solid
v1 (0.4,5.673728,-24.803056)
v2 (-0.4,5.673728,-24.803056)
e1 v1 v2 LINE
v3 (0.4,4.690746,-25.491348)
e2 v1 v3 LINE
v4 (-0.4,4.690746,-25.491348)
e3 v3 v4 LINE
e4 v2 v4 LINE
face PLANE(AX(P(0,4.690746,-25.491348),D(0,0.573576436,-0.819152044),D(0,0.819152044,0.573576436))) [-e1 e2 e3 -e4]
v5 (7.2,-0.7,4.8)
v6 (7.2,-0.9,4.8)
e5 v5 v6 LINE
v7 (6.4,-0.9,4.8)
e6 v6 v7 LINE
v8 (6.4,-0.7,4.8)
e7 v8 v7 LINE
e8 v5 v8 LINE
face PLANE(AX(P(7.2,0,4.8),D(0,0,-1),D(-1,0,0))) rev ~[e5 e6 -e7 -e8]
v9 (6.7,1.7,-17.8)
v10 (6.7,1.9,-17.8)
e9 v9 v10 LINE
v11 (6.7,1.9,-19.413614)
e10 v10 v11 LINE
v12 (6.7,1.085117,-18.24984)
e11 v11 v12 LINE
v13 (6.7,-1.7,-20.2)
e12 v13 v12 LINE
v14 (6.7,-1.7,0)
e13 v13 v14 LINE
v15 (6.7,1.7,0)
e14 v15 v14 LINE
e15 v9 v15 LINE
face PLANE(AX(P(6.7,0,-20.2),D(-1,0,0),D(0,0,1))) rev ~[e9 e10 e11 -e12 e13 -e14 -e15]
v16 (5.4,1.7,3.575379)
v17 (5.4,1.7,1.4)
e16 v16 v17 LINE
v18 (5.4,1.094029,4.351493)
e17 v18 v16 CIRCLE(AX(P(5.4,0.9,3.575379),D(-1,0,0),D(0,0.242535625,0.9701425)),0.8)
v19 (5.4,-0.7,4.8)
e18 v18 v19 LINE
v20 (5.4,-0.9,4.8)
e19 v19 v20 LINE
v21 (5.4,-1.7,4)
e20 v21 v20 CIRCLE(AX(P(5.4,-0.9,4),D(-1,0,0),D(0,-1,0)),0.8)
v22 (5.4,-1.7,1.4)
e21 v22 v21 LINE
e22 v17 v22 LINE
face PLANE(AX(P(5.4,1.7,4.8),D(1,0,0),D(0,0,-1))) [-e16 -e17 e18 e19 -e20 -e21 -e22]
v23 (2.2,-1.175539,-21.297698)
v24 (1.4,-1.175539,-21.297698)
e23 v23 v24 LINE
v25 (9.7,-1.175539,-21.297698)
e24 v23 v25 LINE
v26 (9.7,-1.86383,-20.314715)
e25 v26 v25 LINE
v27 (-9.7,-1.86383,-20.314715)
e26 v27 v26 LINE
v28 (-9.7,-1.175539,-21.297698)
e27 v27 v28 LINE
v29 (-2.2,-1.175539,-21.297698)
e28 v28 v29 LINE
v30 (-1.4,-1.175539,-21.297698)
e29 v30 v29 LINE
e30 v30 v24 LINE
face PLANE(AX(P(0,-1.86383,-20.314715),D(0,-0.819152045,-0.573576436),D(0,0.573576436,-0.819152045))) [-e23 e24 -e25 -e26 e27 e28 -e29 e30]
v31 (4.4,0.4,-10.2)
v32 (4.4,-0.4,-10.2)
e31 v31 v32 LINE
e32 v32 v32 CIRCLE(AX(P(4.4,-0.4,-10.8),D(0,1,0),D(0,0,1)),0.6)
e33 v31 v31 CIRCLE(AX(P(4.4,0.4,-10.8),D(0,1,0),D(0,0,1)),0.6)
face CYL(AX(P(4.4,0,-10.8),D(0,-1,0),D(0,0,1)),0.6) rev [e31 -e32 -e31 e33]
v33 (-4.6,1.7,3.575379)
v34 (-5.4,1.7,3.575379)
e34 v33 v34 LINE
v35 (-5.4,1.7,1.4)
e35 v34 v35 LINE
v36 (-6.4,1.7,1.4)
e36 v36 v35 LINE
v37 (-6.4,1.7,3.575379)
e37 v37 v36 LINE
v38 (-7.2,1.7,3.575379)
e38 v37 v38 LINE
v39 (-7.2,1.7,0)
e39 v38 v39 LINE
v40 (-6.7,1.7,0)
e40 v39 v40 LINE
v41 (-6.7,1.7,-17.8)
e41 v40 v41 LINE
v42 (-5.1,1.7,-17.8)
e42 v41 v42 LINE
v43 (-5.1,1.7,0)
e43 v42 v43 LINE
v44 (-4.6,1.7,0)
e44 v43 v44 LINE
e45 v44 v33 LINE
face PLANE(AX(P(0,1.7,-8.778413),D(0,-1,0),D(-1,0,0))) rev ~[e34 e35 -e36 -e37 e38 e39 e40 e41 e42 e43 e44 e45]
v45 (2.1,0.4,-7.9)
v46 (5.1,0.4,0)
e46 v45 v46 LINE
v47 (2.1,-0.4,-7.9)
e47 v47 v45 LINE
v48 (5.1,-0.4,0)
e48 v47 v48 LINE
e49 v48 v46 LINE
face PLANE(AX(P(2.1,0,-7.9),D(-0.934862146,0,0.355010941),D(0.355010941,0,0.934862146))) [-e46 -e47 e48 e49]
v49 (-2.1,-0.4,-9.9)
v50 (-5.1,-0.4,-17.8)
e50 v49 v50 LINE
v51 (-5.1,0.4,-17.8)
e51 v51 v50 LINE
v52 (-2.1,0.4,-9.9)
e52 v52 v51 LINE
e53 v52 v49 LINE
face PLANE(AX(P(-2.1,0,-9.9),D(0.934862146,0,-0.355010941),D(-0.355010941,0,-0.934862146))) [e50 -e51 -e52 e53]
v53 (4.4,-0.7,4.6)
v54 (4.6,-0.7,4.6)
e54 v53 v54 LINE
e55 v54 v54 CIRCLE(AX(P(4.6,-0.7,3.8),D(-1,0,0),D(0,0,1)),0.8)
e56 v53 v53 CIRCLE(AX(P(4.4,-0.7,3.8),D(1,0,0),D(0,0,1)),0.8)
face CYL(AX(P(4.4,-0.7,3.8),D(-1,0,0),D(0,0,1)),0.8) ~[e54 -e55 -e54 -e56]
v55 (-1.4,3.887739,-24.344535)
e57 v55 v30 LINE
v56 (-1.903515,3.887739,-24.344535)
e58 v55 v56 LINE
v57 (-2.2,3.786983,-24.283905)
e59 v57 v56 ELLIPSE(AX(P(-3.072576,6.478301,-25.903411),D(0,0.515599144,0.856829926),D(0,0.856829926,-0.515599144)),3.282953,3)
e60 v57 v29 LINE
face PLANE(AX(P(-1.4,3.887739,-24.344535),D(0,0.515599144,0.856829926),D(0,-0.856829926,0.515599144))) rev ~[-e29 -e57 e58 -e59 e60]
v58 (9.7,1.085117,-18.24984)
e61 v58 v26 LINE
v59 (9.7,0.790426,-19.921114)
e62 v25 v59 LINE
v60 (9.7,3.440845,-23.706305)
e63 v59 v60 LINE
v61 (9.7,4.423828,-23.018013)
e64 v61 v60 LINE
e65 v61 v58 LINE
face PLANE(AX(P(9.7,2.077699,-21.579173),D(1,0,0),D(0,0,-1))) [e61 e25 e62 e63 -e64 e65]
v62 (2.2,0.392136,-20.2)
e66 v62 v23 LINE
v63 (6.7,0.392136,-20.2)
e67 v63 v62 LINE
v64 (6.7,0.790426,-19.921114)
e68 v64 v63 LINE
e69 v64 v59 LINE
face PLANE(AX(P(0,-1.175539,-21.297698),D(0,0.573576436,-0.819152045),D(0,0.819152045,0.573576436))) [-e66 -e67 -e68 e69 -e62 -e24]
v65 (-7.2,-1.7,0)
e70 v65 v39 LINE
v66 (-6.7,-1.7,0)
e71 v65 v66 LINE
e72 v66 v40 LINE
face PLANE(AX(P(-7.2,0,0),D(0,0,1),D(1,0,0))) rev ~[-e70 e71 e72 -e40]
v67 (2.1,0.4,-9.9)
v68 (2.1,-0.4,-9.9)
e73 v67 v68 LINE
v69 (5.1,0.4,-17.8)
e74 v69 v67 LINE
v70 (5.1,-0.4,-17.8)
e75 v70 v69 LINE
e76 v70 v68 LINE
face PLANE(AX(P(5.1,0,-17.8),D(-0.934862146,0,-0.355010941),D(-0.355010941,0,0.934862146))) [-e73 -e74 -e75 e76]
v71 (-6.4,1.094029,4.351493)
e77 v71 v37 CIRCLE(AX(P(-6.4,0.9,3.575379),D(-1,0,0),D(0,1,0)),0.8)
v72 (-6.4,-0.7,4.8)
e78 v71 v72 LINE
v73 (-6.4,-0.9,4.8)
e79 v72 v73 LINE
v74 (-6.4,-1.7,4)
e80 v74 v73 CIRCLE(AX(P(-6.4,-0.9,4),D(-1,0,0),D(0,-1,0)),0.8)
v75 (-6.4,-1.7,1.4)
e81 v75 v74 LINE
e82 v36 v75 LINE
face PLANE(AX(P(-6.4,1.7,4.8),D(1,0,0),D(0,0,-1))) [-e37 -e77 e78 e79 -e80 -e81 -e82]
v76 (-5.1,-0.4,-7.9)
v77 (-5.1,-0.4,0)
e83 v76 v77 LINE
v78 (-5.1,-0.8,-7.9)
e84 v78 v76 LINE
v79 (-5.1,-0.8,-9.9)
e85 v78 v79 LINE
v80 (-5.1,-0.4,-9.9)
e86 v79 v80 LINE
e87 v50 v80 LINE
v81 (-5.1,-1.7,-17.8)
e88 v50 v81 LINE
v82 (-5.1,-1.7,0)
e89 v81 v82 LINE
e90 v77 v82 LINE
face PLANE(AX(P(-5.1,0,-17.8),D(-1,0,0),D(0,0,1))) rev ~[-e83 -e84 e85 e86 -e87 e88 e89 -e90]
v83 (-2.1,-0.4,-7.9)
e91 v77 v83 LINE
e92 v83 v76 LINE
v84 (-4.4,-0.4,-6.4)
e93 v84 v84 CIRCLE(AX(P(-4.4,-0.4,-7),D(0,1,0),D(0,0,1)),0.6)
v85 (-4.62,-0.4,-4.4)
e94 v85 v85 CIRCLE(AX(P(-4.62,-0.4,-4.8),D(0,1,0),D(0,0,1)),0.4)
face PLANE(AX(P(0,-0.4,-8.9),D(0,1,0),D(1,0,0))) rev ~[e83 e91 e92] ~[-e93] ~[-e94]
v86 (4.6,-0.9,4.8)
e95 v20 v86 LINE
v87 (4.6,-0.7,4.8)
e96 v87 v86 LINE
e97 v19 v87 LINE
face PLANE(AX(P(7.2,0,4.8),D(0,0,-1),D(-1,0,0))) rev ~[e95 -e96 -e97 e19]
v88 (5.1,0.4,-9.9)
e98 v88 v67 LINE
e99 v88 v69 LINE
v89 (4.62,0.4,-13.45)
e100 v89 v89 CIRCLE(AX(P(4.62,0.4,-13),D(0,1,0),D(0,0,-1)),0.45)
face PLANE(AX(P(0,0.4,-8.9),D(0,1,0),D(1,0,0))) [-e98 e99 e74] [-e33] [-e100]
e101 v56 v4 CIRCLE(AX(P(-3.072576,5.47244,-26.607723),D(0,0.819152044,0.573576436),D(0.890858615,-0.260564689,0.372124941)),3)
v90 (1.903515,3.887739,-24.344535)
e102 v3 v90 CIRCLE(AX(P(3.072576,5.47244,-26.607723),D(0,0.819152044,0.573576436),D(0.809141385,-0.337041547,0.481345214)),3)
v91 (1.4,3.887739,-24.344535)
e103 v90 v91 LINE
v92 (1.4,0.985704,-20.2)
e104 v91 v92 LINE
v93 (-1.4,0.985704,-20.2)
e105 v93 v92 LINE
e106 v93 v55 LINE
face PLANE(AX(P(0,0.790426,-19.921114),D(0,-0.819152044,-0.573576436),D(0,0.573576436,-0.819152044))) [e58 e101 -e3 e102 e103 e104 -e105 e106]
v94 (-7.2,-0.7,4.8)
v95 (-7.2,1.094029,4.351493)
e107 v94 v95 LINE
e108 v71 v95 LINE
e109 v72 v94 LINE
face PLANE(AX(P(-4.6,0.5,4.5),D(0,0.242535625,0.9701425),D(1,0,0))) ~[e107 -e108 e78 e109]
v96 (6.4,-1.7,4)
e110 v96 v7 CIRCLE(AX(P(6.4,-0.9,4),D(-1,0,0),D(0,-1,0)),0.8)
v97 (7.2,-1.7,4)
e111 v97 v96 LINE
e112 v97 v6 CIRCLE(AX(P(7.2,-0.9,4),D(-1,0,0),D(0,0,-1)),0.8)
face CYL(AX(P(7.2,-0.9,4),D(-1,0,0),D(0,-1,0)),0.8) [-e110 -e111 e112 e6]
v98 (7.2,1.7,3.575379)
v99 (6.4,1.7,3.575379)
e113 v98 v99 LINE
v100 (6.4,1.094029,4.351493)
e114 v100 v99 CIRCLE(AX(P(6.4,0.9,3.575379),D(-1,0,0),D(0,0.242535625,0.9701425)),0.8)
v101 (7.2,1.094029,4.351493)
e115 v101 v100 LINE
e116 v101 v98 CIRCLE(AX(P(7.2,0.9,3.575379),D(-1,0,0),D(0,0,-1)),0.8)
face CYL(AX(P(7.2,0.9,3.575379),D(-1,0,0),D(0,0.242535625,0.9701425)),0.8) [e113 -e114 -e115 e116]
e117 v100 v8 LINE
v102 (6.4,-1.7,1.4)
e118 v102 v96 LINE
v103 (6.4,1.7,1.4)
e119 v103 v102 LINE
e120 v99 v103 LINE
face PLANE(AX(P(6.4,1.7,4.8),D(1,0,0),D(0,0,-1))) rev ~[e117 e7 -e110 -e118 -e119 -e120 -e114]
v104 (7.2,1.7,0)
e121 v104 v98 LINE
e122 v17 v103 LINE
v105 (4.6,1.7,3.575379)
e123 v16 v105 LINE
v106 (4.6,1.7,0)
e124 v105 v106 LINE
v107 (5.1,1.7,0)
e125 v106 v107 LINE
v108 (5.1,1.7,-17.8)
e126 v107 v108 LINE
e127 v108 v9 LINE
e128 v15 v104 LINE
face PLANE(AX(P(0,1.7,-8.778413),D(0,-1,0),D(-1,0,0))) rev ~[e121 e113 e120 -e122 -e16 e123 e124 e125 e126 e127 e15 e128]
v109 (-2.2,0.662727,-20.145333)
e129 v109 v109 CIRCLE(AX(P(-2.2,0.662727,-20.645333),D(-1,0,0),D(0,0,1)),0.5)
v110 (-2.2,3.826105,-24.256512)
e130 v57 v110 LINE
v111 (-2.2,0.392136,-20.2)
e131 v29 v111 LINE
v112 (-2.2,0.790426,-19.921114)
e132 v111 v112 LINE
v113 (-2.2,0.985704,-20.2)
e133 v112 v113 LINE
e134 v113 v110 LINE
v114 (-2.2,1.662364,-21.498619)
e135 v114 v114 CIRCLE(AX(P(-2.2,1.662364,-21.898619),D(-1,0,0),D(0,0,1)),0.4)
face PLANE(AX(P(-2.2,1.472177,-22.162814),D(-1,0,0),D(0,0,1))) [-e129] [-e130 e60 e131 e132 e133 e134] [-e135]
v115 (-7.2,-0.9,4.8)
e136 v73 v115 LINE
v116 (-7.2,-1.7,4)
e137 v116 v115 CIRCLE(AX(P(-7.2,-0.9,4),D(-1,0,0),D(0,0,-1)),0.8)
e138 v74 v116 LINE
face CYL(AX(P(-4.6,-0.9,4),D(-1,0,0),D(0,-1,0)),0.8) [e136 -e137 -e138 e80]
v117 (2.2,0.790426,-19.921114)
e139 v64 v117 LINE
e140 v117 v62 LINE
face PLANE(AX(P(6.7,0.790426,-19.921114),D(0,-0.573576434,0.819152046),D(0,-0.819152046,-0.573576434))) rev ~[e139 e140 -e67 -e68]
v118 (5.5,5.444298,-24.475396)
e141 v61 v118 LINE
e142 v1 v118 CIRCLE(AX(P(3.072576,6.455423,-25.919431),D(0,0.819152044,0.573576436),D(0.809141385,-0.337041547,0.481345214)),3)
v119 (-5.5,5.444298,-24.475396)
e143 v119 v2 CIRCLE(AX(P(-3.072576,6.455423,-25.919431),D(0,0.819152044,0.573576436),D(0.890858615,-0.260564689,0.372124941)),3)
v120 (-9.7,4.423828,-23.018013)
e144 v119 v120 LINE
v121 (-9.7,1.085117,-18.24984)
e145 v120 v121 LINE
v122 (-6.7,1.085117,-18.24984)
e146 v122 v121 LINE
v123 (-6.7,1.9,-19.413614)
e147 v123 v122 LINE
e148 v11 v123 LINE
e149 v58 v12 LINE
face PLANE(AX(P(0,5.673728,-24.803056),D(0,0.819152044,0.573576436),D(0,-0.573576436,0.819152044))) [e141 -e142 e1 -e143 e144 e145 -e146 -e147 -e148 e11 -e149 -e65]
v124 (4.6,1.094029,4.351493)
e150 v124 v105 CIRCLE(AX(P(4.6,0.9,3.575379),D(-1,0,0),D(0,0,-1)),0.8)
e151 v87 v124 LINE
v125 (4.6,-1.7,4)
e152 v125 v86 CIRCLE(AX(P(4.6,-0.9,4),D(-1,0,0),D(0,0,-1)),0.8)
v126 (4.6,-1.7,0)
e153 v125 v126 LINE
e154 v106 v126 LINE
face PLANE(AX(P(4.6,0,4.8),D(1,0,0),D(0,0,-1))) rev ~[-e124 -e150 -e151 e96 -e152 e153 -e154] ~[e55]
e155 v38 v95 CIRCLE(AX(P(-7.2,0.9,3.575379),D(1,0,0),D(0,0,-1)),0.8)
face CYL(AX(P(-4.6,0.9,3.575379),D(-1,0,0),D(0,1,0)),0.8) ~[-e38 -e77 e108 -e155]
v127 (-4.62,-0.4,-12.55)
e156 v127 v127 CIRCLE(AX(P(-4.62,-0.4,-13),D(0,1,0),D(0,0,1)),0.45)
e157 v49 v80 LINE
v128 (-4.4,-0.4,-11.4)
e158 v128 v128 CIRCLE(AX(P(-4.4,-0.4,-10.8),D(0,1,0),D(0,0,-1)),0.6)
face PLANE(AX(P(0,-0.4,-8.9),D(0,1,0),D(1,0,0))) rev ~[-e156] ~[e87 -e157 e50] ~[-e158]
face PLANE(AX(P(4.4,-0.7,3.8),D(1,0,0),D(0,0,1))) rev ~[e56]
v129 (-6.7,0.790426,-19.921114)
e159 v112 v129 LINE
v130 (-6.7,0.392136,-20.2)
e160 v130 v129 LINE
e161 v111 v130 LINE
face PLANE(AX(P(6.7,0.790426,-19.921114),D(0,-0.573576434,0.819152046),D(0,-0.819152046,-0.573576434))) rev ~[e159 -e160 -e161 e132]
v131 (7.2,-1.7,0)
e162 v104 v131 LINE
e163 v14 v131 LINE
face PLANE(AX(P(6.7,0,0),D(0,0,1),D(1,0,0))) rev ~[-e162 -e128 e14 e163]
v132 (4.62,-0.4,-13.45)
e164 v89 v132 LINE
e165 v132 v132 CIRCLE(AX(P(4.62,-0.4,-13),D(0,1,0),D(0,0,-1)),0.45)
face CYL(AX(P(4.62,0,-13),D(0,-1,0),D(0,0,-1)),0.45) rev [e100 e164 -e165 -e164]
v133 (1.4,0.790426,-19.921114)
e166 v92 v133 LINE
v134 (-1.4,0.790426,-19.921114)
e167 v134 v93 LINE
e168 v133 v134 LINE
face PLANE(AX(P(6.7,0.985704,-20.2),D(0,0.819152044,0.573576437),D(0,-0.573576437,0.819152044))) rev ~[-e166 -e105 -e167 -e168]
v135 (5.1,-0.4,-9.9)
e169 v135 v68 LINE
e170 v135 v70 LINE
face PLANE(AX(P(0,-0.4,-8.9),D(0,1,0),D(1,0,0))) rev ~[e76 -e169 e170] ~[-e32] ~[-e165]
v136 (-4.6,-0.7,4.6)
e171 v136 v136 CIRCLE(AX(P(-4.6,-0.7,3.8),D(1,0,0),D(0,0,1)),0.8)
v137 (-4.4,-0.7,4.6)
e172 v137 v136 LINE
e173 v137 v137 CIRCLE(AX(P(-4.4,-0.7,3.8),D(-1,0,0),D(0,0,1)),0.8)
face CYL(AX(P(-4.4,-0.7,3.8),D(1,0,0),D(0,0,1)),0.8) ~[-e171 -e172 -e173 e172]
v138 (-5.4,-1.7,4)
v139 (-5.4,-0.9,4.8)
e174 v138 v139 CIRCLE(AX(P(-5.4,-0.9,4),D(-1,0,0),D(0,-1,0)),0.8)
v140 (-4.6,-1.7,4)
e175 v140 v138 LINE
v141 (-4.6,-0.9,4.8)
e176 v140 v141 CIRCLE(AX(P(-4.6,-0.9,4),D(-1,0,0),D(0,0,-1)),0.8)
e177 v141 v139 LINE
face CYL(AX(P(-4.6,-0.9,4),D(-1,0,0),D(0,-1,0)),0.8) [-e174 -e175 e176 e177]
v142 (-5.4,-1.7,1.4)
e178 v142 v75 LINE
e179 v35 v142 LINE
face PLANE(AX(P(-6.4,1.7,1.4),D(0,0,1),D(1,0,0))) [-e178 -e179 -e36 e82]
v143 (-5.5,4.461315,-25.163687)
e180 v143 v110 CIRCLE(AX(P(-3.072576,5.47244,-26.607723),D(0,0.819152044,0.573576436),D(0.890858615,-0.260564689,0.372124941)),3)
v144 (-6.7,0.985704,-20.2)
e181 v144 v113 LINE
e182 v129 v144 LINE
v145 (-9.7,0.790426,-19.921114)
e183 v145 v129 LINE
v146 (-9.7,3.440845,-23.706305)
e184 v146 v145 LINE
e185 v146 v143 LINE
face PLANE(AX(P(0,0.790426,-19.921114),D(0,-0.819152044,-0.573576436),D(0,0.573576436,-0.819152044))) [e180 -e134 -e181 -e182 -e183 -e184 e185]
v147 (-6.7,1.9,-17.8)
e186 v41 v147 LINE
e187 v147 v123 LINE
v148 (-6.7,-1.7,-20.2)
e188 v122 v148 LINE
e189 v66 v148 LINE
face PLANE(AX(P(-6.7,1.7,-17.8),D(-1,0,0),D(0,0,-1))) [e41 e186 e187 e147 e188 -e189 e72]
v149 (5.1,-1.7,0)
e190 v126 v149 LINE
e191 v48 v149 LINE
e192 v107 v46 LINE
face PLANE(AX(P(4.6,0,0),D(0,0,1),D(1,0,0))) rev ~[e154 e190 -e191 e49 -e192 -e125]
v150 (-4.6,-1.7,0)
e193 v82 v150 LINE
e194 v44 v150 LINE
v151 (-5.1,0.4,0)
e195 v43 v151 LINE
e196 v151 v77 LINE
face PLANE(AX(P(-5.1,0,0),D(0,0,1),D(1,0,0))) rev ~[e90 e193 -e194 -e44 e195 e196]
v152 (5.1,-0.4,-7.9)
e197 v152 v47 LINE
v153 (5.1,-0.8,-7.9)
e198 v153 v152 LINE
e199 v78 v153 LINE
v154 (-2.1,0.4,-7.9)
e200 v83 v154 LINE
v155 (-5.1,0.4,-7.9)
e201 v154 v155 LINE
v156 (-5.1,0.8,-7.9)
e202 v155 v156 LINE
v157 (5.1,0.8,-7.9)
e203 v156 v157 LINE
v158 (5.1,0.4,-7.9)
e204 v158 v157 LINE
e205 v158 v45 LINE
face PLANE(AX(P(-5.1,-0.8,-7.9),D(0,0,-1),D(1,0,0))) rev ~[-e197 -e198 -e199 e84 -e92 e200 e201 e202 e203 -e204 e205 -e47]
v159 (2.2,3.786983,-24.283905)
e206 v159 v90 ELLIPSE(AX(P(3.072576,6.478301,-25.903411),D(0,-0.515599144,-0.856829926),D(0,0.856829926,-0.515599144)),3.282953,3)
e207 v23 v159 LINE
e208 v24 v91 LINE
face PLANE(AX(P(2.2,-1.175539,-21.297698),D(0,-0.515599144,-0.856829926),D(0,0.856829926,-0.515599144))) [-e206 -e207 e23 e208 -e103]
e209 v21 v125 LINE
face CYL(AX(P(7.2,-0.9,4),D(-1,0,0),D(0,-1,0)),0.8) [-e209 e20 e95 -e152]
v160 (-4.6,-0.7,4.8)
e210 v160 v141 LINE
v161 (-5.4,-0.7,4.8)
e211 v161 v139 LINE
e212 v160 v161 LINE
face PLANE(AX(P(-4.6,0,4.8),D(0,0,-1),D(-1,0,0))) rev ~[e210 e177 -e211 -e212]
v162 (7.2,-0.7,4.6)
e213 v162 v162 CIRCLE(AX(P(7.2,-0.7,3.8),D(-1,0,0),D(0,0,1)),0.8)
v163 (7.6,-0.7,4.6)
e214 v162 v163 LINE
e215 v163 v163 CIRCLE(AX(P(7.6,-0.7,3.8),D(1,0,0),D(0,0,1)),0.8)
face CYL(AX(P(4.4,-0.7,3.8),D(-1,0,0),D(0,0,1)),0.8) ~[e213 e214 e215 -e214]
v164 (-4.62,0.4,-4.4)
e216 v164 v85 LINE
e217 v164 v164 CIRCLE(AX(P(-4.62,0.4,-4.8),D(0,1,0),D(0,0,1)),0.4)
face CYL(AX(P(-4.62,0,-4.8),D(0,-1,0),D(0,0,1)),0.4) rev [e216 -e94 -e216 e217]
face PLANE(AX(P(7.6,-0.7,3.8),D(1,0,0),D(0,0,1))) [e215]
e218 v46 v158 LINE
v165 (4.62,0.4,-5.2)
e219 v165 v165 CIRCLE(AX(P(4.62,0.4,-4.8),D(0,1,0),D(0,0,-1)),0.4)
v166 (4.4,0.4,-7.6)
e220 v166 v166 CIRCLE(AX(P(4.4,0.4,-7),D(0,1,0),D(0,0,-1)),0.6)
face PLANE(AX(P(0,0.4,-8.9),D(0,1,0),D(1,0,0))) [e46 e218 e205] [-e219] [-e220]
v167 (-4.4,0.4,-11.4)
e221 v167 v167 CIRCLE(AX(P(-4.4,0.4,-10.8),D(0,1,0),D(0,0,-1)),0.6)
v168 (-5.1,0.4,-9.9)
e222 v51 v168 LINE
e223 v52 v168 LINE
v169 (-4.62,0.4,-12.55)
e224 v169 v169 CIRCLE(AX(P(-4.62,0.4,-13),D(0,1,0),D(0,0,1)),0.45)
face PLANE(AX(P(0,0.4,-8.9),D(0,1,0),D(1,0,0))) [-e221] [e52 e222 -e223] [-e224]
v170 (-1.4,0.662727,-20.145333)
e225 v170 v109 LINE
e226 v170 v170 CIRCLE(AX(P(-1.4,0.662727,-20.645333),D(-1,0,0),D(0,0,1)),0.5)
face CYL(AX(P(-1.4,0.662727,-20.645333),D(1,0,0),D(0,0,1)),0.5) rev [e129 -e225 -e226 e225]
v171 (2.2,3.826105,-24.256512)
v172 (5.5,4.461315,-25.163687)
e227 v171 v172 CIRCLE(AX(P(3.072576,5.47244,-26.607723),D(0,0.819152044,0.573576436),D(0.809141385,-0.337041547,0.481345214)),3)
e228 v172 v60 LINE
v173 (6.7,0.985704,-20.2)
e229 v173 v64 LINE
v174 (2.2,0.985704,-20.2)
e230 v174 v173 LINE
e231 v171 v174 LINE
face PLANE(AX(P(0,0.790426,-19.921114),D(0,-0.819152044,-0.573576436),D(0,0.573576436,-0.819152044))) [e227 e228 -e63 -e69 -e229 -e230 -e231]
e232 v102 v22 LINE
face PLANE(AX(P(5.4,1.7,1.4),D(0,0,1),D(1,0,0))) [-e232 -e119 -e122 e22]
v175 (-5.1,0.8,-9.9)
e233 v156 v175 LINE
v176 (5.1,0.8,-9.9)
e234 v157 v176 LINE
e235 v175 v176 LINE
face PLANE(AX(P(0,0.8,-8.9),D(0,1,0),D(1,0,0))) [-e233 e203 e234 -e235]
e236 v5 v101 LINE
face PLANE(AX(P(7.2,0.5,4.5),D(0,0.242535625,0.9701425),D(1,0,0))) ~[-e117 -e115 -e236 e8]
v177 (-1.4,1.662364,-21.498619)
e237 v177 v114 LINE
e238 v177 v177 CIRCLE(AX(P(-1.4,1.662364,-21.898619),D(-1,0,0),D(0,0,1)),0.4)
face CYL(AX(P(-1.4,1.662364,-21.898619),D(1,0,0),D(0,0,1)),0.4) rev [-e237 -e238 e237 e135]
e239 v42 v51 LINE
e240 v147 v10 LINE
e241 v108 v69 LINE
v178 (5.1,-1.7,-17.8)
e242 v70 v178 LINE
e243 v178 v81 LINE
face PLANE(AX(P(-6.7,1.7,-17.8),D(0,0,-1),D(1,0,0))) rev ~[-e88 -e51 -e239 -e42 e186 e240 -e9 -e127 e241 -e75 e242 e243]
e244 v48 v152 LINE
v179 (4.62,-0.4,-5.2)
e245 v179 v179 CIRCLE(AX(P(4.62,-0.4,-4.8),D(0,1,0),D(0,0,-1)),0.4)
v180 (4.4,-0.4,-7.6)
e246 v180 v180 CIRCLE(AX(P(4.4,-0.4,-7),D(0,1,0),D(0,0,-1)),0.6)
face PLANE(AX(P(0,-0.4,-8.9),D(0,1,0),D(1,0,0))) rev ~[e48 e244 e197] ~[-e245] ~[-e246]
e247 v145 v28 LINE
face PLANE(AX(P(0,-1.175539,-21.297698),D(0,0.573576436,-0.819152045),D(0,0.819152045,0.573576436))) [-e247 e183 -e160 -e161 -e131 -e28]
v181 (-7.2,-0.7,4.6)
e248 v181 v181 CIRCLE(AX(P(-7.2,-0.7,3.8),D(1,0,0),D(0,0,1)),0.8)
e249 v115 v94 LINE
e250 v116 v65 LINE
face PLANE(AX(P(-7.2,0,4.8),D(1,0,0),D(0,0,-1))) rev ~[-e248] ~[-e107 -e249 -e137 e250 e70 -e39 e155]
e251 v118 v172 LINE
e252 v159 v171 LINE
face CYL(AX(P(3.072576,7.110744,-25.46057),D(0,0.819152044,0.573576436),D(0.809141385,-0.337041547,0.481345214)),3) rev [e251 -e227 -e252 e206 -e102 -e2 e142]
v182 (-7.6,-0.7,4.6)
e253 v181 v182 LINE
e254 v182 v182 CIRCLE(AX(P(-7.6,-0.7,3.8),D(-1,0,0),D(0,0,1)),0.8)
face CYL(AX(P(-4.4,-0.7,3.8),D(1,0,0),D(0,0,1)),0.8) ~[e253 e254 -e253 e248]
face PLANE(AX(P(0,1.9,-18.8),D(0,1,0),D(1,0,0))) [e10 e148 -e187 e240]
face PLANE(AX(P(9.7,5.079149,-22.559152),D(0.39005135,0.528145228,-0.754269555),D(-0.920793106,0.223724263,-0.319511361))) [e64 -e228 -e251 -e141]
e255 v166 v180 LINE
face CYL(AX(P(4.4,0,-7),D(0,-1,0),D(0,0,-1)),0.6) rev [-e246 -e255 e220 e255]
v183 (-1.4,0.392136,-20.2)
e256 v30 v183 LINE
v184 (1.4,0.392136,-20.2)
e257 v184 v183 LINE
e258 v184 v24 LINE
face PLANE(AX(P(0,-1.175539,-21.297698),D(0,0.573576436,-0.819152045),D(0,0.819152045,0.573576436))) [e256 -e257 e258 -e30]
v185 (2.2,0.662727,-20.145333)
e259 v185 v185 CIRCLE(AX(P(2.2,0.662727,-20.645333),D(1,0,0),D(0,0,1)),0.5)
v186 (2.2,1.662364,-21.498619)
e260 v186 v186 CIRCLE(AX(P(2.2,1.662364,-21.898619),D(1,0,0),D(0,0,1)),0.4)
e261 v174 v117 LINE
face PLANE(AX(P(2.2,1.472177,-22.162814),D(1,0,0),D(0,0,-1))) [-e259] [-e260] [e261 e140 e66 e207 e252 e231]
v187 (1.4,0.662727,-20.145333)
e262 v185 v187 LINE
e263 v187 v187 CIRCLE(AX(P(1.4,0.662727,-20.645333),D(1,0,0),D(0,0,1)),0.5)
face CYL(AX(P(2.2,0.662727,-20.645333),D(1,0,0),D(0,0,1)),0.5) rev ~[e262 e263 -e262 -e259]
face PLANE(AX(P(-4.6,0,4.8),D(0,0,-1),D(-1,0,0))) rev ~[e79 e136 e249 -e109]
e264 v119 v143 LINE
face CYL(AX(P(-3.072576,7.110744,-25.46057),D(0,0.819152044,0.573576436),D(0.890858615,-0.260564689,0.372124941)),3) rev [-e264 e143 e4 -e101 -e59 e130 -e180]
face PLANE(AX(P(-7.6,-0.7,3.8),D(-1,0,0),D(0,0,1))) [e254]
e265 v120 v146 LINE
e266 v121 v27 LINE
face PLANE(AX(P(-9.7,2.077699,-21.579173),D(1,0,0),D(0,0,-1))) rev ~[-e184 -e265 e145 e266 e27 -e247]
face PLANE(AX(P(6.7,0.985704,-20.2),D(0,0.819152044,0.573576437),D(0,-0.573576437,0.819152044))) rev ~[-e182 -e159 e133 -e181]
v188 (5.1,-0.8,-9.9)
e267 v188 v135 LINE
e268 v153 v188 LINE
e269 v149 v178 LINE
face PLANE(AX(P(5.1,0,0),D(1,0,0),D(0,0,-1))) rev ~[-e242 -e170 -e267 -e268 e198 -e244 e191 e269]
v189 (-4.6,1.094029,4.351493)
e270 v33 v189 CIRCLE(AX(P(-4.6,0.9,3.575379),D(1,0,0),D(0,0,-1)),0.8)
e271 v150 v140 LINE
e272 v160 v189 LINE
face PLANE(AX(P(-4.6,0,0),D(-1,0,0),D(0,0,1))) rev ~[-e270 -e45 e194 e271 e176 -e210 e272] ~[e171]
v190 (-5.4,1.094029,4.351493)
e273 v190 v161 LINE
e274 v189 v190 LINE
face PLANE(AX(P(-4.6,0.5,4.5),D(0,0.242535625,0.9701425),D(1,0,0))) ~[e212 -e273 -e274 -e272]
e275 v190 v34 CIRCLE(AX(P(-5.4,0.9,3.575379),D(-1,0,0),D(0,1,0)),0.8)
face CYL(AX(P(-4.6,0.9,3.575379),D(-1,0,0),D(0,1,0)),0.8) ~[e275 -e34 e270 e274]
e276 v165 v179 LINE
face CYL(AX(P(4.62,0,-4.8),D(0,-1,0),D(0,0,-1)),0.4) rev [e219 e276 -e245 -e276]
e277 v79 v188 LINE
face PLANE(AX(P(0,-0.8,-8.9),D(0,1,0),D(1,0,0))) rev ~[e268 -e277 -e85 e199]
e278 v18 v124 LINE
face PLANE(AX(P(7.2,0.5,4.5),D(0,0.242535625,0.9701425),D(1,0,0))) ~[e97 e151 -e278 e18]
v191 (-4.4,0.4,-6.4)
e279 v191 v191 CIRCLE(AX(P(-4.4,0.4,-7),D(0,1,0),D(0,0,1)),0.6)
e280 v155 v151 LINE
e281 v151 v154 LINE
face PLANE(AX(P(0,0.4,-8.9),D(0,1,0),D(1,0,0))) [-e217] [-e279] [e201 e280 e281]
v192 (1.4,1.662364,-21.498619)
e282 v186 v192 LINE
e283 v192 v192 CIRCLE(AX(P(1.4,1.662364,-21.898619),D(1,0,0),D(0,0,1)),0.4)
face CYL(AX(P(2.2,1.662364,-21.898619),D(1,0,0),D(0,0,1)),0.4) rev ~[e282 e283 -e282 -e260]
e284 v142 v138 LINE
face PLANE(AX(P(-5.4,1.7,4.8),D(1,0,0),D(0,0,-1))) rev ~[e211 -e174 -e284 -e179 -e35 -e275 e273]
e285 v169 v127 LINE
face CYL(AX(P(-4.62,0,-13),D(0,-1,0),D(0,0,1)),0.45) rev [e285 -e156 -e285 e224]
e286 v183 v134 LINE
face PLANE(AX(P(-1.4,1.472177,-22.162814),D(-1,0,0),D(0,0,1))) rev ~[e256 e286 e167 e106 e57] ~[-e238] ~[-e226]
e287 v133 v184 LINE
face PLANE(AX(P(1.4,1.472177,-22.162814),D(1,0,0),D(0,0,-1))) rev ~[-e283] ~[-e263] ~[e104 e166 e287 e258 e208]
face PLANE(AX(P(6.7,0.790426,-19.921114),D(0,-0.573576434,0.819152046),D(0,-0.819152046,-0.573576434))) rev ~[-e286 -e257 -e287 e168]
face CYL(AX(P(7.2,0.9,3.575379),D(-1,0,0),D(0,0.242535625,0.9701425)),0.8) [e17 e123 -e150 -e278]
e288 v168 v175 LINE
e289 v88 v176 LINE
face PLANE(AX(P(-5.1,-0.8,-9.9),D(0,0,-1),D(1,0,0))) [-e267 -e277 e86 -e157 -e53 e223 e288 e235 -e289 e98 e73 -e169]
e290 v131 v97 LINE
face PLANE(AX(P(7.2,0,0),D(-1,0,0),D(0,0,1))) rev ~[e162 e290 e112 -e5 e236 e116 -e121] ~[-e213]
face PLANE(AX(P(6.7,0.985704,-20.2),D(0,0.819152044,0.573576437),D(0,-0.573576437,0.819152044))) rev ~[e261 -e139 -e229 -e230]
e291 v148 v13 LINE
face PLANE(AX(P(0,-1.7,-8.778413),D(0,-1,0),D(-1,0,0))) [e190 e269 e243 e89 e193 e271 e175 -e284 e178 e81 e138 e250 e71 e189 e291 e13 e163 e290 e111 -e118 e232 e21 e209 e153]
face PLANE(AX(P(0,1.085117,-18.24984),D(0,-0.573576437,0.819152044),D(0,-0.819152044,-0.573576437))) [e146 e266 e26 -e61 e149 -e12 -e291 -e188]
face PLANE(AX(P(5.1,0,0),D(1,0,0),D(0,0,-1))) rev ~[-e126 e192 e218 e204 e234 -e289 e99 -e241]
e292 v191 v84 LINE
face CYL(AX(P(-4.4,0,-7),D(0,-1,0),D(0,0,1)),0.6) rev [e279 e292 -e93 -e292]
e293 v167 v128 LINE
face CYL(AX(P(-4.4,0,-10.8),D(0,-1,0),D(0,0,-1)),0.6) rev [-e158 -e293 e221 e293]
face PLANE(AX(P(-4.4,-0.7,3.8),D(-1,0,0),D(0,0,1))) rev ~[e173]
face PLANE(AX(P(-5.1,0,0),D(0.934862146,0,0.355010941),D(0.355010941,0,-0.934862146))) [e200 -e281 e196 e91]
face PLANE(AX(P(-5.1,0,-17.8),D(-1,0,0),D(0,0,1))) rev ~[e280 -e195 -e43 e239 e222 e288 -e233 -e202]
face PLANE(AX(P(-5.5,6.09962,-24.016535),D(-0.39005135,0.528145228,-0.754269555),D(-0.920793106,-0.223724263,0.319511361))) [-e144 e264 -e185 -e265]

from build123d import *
from OCP.BRepFilletAPI import BRepFilletAPI_MakeChamfer

# Parameters (mm, degrees)
BOSS_EXTRUDE1_DEPTH      = 0.85
SKETCH3_R                = 0.3
SKETCH3_R_2              = 0.2
SKETCH3_R_3              = 0.225
BOSS_EXTRUDE2_DEPTH      = 0.2
FILLET1_R                = 0.4
CHAMFER1_SIZE            = 1.2
CHAMFER1_SIZE2           = 0.3
FILLET2_R                = 0.4
BOSS_EXTRUDE4_DEPTH      = 0.2
BOSS_EXTRUDE4_DEPTH_BACK = 1.4
SKETCH7_R                = 0.4
BOSS_EXTRUDE5_DEPTH      = 0.2
BOSS_EXTRUDE5_DEPTH_BACK = 1.4
SKETCH8_R                = 0.4
SKETCH6_W                = 0.5
SKETCH6_H                = 1.7
CUT_EXTRUDE1_DEPTH       = 11.924284874
BOSS_EXTRUDE8_DEPTH      = 0.2
BOSS_EXTRUDE8_DEPTH_BACK = 0.6
SKETCH11_W               = 5.1
SKETCH11_H               = 1
BOSS_EXTRUDE9_DEPTH      = 4.85
CUT_EXTRUDE2_DEPTH       = 9.7
BOSS_EXTRUDE11_START     = 0.7
SKETCH16_R               = 0.25
SKETCH16_R_2             = 0.2
BOSS_EXTRUDE11_DEPTH     = 0.4
BOSS_EXTRUDE12_START     = 1.1
SKETCH17_R               = 0.2
SKETCH17_R_2             = 0.25
BOSS_EXTRUDE12_DEPTH     = 0.4
CUT_EXTRUDE3_DEPTH       = 0.4
CUT_EXTRUDE3_DEPTH_BACK  = 1
SKETCH18_W               = 6.7
SKETCH18_H               = 1
BOSS_EXTRUDE13_DEPTH     = 0.1
SCALE1_SCALE             = 2


with BuildPart() as part:
    # Sketch1 → Boss-Extrude1 (new, symmetric)
    with BuildSketch(Plane(origin=(0, 0, 0), x_dir=(1, 0, 0), z_dir=(0, 1, 0))):
        Polygon((-3.35, 0), (-3.35, 10.1), (3.35, 10.1), (3.35, 0), (3.6, 0), (3.6, -2.4), (2.3, -2.4), (2.3, 0), (2.55, 0), (2.55, 8.9), (-2.55, 8.9), (-2.55, 0), (-2.3, 0), (-2.3, -2.4), (-3.6, -2.4), (-3.6, 0), align=None)
    extrude(amount=BOSS_EXTRUDE1_DEPTH, both=True)

    # Sketch3 → Boss-Extrude2 (add, symmetric)
    with BuildSketch(Plane(origin=(0, 0, 0), x_dir=(1, 0, 0), z_dir=(0, 1, 0))):
        Polygon((-2.55, 3.95), (-2.55, 0), (-1.05, 3.95), (1.05, 3.95), (2.55, 0), (2.55, 3.95), (2.55, 4.95), (2.55, 8.9), (1.05, 4.95), (-1.05, 4.95), (-2.55, 8.9), (-2.55, 4.95), align=None)
        with Locations((-2.2, 3.5)):
            Circle(SKETCH3_R, mode=Mode.SUBTRACT)
        with Locations((2.2, 3.5)):
            Circle(SKETCH3_R, mode=Mode.SUBTRACT)
        with Locations((-2.31, 2.4)):
            Circle(SKETCH3_R_2, mode=Mode.SUBTRACT)
        with Locations((-2.31, 6.5)):
            Circle(SKETCH3_R_3, mode=Mode.SUBTRACT)
        with Locations((2.2, 5.4)):
            Circle(SKETCH3_R, mode=Mode.SUBTRACT)
        with Locations((-2.2, 5.4)):
            Circle(SKETCH3_R, mode=Mode.SUBTRACT)
        with Locations((2.31, 2.4)):
            Circle(SKETCH3_R_2, mode=Mode.SUBTRACT)
        with Locations((2.31, 6.5)):
            Circle(SKETCH3_R_3, mode=Mode.SUBTRACT)
    extrude(amount=BOSS_EXTRUDE2_DEPTH, both=True)

    # Fillet1
    fillet1_edges = [part.edges().sort_by_distance(p)[0] for p in [
        (2.95, -0.85, 2.4),
        (-2.95, -0.85, 2.4),
    ]]
    fillet(fillet1_edges, radius=FILLET1_R)

    # Chamfer1: one chamfer whose edges measure the first distance from different faces: ONE call of the kernel's chamfer builder (chamfer() names one face for all edges)
    chamfer1_edges_1 = [part.edges().sort_by_distance(p)[0] for p in [
        (2.95, 0.85, 2.4),
    ]]
    chamfer1_side_1 = [part.faces().sort_by_distance(p)[0] for p in [
        (2.95, 0.2, 2.4),
    ]]
    chamfer1_edges_2 = [part.edges().sort_by_distance(p)[0] for p in [
        (-2.95, 0.85, 2.4),
    ]]
    chamfer1_side_2 = [part.faces().sort_by_distance(p)[0] for p in [
        (-2.95, 0.2, 2.4),
    ]]
    chamfer1 = BRepFilletAPI_MakeChamfer(part.part.solid().wrapped)
    for e in chamfer1_edges_1:
        chamfer1.Add(CHAMFER1_SIZE, CHAMFER1_SIZE2, e.wrapped, chamfer1_side_1[0].wrapped)  # the first distance lies on this face
    for e in chamfer1_edges_2:
        chamfer1.Add(CHAMFER1_SIZE, CHAMFER1_SIZE2, e.wrapped, chamfer1_side_2[0].wrapped)  # the first distance lies on this face
    add(Compound.cast(chamfer1.Shape()), mode=Mode.REPLACE)

    # Fillet2
    fillet2_edges = [part.edges().sort_by_distance(p)[0] for p in [
        (2.95, 0.85, 2.1),
        (-2.95, 0.85, 2.1),
    ]]
    fillet(fillet2_edges, radius=FILLET2_R)

    # Sketch7 → Boss-Extrude4 (add, two sides: drawn at the far end of the back side and taken through both)
    with BuildSketch(Plane.ZY.offset(3.6).offset(-BOSS_EXTRUDE4_DEPTH_BACK)):
        with Locations((1.9, -0.35)):
            Circle(SKETCH7_R)
    extrude(amount=BOSS_EXTRUDE4_DEPTH + BOSS_EXTRUDE4_DEPTH_BACK)

    # Sketch8 → Boss-Extrude5 (add, two sides: drawn at the far end of the back side and taken through both)
    with BuildSketch(Plane(origin=(3.6, 0, 0), x_dir=(0, 0, -1), z_dir=(1, 0, 0)).offset(-BOSS_EXTRUDE5_DEPTH_BACK)):
        with Locations((-1.9, -0.35)):
            Circle(SKETCH8_R)
    extrude(amount=BOSS_EXTRUDE5_DEPTH + BOSS_EXTRUDE5_DEPTH_BACK)

    # Sketch6 → Cut-Extrude1 (cut, through all)
    with BuildSketch(Plane(origin=(0, 0.85, 0), x_dir=(1, 0, 0), z_dir=(0, 1, 0))):
        with Locations((-2.95, -1.55)):
            Rectangle(SKETCH6_W, SKETCH6_H)
        with Locations((2.95, -1.55)):
            Rectangle(SKETCH6_W, SKETCH6_H)
    extrude(amount=-CUT_EXTRUDE1_DEPTH, mode=Mode.SUBTRACT)

    # Sketch11 → Boss-Extrude8 (add, two sides: drawn at the far end of the back side and taken through both)
    with BuildSketch(Plane(origin=(0, 0.2, 0), x_dir=(1, 0, 0), z_dir=(0, 1, 0)).offset(-BOSS_EXTRUDE8_DEPTH_BACK)):
        with Locations((0, 4.45)):
            Rectangle(SKETCH11_W, SKETCH11_H)
    extrude(amount=BOSS_EXTRUDE8_DEPTH + BOSS_EXTRUDE8_DEPTH_BACK)

    # Sketch12 → Boss-Extrude9 (add, symmetric)
    with BuildSketch(Plane(origin=(0, 0, 0), x_dir=(0, 0, -1), z_dir=(1, 0, 0))):
        Polygon((9.124920058, 0.542558475), (10.157357644, -0.931915204), (10.64884887, -0.587769343), (9.960557147, 0.395213111), (12.745674097, 2.345372994), (12.401528235, 2.836864221), align=None)
    extrude(amount=BOSS_EXTRUDE9_DEPTH, both=True)

    # Sketch13 → Cut-Extrude2 (cut)
    with BuildSketch(Plane(origin=(3.35, 0, 0), x_dir=(0, 0, -1), z_dir=(1, 0, 0))):
        Polygon((9.960557147, 0.395213111), (10.1, 0.196068077), (10.1, 0.492852048), align=None)
    extrude(amount=-CUT_EXTRUDE2_DEPTH, mode=Mode.SUBTRACT)

    # Sketch16 → Boss-Extrude11 (add)
    with BuildSketch(Plane.ZY.offset(BOSS_EXTRUDE11_START)):
        Polygon((-9.960557147, 0.395213111), (-12.172267666, 1.943869489), (-10.64884887, -0.587769343), align=None)
        with Locations((-10.322666552, 0.331363452)):
            Circle(SKETCH16_R, mode=Mode.SUBTRACT)
        with Locations((-10.949309365, 0.831182204)):
            Circle(SKETCH16_R_2, mode=Mode.SUBTRACT)
    extrude(amount=BOSS_EXTRUDE11_DEPTH)

    # Sketch17 → Boss-Extrude12 (add)
    with BuildSketch(Plane(origin=(0, 0, 0), x_dir=(0, 0, -1), z_dir=(1, 0, 0)).offset(BOSS_EXTRUDE12_START)):
        Polygon((12.172267666, 1.943869489), (9.960557147, 0.395213111), (10.64884887, -0.587769343), align=None)
        with Locations((10.949309365, 0.831182204)):
            Circle(SKETCH17_R, mode=Mode.SUBTRACT)
        with Locations((10.322666552, 0.331363452)):
            Circle(SKETCH17_R_2, mode=Mode.SUBTRACT)
    extrude(amount=-BOSS_EXTRUDE12_DEPTH)

    # Sketch14 → Cut-Extrude3 (cut, two sides: drawn at the far end of the back side and taken through both)
    with BuildSketch(Plane(origin=(0, -4.414739047, -3.09123356), x_dir=(-1, 0, 0), z_dir=(0, -0.8191520442889928, -0.5735764363510448)).offset(-CUT_EXTRUDE3_DEPTH_BACK)):
        with BuildLine():
            Line((-4.85, 10.696327944), (-2.75, 11.585895676))
            ThreePointArc((-2.75, 11.585895676), (-1.419001054, 10.971909117), (-0.2, 11.785895676))
            Line((-0.2, 11.785895676), (0.2, 11.785895676))
            ThreePointArc((0.2, 11.785895676), (1.419001054, 10.971909117), (2.75, 11.585895676))
            Line((2.75, 11.585895676), (4.85, 10.696327944))
            Line((4.85, 10.696327944), (4.85, 12.785895676))
            Line((4.85, 12.785895676), (-4.85, 12.785895676))
            Line((-4.85, 12.785895676), (-4.85, 10.696327944))
        make_face()
    extrude(amount=CUT_EXTRUDE3_DEPTH + CUT_EXTRUDE3_DEPTH_BACK, mode=Mode.SUBTRACT)

    # Sketch18 → Boss-Extrude13 (add)
    with BuildSketch(Plane(origin=(0, 0.85, 0), x_dir=(1, 0, 0), z_dir=(0, 1, 0))):
        with Locations((0, 9.4)):
            Rectangle(SKETCH18_W, SKETCH18_H)
    extrude(amount=BOSS_EXTRUDE13_DEPTH)


with BuildPart() as part_1:
    # Scale1: scaled about (0, 0, 0)
    add(part.part.scale(SCALE1_SCALE))


solid = part_1.part
